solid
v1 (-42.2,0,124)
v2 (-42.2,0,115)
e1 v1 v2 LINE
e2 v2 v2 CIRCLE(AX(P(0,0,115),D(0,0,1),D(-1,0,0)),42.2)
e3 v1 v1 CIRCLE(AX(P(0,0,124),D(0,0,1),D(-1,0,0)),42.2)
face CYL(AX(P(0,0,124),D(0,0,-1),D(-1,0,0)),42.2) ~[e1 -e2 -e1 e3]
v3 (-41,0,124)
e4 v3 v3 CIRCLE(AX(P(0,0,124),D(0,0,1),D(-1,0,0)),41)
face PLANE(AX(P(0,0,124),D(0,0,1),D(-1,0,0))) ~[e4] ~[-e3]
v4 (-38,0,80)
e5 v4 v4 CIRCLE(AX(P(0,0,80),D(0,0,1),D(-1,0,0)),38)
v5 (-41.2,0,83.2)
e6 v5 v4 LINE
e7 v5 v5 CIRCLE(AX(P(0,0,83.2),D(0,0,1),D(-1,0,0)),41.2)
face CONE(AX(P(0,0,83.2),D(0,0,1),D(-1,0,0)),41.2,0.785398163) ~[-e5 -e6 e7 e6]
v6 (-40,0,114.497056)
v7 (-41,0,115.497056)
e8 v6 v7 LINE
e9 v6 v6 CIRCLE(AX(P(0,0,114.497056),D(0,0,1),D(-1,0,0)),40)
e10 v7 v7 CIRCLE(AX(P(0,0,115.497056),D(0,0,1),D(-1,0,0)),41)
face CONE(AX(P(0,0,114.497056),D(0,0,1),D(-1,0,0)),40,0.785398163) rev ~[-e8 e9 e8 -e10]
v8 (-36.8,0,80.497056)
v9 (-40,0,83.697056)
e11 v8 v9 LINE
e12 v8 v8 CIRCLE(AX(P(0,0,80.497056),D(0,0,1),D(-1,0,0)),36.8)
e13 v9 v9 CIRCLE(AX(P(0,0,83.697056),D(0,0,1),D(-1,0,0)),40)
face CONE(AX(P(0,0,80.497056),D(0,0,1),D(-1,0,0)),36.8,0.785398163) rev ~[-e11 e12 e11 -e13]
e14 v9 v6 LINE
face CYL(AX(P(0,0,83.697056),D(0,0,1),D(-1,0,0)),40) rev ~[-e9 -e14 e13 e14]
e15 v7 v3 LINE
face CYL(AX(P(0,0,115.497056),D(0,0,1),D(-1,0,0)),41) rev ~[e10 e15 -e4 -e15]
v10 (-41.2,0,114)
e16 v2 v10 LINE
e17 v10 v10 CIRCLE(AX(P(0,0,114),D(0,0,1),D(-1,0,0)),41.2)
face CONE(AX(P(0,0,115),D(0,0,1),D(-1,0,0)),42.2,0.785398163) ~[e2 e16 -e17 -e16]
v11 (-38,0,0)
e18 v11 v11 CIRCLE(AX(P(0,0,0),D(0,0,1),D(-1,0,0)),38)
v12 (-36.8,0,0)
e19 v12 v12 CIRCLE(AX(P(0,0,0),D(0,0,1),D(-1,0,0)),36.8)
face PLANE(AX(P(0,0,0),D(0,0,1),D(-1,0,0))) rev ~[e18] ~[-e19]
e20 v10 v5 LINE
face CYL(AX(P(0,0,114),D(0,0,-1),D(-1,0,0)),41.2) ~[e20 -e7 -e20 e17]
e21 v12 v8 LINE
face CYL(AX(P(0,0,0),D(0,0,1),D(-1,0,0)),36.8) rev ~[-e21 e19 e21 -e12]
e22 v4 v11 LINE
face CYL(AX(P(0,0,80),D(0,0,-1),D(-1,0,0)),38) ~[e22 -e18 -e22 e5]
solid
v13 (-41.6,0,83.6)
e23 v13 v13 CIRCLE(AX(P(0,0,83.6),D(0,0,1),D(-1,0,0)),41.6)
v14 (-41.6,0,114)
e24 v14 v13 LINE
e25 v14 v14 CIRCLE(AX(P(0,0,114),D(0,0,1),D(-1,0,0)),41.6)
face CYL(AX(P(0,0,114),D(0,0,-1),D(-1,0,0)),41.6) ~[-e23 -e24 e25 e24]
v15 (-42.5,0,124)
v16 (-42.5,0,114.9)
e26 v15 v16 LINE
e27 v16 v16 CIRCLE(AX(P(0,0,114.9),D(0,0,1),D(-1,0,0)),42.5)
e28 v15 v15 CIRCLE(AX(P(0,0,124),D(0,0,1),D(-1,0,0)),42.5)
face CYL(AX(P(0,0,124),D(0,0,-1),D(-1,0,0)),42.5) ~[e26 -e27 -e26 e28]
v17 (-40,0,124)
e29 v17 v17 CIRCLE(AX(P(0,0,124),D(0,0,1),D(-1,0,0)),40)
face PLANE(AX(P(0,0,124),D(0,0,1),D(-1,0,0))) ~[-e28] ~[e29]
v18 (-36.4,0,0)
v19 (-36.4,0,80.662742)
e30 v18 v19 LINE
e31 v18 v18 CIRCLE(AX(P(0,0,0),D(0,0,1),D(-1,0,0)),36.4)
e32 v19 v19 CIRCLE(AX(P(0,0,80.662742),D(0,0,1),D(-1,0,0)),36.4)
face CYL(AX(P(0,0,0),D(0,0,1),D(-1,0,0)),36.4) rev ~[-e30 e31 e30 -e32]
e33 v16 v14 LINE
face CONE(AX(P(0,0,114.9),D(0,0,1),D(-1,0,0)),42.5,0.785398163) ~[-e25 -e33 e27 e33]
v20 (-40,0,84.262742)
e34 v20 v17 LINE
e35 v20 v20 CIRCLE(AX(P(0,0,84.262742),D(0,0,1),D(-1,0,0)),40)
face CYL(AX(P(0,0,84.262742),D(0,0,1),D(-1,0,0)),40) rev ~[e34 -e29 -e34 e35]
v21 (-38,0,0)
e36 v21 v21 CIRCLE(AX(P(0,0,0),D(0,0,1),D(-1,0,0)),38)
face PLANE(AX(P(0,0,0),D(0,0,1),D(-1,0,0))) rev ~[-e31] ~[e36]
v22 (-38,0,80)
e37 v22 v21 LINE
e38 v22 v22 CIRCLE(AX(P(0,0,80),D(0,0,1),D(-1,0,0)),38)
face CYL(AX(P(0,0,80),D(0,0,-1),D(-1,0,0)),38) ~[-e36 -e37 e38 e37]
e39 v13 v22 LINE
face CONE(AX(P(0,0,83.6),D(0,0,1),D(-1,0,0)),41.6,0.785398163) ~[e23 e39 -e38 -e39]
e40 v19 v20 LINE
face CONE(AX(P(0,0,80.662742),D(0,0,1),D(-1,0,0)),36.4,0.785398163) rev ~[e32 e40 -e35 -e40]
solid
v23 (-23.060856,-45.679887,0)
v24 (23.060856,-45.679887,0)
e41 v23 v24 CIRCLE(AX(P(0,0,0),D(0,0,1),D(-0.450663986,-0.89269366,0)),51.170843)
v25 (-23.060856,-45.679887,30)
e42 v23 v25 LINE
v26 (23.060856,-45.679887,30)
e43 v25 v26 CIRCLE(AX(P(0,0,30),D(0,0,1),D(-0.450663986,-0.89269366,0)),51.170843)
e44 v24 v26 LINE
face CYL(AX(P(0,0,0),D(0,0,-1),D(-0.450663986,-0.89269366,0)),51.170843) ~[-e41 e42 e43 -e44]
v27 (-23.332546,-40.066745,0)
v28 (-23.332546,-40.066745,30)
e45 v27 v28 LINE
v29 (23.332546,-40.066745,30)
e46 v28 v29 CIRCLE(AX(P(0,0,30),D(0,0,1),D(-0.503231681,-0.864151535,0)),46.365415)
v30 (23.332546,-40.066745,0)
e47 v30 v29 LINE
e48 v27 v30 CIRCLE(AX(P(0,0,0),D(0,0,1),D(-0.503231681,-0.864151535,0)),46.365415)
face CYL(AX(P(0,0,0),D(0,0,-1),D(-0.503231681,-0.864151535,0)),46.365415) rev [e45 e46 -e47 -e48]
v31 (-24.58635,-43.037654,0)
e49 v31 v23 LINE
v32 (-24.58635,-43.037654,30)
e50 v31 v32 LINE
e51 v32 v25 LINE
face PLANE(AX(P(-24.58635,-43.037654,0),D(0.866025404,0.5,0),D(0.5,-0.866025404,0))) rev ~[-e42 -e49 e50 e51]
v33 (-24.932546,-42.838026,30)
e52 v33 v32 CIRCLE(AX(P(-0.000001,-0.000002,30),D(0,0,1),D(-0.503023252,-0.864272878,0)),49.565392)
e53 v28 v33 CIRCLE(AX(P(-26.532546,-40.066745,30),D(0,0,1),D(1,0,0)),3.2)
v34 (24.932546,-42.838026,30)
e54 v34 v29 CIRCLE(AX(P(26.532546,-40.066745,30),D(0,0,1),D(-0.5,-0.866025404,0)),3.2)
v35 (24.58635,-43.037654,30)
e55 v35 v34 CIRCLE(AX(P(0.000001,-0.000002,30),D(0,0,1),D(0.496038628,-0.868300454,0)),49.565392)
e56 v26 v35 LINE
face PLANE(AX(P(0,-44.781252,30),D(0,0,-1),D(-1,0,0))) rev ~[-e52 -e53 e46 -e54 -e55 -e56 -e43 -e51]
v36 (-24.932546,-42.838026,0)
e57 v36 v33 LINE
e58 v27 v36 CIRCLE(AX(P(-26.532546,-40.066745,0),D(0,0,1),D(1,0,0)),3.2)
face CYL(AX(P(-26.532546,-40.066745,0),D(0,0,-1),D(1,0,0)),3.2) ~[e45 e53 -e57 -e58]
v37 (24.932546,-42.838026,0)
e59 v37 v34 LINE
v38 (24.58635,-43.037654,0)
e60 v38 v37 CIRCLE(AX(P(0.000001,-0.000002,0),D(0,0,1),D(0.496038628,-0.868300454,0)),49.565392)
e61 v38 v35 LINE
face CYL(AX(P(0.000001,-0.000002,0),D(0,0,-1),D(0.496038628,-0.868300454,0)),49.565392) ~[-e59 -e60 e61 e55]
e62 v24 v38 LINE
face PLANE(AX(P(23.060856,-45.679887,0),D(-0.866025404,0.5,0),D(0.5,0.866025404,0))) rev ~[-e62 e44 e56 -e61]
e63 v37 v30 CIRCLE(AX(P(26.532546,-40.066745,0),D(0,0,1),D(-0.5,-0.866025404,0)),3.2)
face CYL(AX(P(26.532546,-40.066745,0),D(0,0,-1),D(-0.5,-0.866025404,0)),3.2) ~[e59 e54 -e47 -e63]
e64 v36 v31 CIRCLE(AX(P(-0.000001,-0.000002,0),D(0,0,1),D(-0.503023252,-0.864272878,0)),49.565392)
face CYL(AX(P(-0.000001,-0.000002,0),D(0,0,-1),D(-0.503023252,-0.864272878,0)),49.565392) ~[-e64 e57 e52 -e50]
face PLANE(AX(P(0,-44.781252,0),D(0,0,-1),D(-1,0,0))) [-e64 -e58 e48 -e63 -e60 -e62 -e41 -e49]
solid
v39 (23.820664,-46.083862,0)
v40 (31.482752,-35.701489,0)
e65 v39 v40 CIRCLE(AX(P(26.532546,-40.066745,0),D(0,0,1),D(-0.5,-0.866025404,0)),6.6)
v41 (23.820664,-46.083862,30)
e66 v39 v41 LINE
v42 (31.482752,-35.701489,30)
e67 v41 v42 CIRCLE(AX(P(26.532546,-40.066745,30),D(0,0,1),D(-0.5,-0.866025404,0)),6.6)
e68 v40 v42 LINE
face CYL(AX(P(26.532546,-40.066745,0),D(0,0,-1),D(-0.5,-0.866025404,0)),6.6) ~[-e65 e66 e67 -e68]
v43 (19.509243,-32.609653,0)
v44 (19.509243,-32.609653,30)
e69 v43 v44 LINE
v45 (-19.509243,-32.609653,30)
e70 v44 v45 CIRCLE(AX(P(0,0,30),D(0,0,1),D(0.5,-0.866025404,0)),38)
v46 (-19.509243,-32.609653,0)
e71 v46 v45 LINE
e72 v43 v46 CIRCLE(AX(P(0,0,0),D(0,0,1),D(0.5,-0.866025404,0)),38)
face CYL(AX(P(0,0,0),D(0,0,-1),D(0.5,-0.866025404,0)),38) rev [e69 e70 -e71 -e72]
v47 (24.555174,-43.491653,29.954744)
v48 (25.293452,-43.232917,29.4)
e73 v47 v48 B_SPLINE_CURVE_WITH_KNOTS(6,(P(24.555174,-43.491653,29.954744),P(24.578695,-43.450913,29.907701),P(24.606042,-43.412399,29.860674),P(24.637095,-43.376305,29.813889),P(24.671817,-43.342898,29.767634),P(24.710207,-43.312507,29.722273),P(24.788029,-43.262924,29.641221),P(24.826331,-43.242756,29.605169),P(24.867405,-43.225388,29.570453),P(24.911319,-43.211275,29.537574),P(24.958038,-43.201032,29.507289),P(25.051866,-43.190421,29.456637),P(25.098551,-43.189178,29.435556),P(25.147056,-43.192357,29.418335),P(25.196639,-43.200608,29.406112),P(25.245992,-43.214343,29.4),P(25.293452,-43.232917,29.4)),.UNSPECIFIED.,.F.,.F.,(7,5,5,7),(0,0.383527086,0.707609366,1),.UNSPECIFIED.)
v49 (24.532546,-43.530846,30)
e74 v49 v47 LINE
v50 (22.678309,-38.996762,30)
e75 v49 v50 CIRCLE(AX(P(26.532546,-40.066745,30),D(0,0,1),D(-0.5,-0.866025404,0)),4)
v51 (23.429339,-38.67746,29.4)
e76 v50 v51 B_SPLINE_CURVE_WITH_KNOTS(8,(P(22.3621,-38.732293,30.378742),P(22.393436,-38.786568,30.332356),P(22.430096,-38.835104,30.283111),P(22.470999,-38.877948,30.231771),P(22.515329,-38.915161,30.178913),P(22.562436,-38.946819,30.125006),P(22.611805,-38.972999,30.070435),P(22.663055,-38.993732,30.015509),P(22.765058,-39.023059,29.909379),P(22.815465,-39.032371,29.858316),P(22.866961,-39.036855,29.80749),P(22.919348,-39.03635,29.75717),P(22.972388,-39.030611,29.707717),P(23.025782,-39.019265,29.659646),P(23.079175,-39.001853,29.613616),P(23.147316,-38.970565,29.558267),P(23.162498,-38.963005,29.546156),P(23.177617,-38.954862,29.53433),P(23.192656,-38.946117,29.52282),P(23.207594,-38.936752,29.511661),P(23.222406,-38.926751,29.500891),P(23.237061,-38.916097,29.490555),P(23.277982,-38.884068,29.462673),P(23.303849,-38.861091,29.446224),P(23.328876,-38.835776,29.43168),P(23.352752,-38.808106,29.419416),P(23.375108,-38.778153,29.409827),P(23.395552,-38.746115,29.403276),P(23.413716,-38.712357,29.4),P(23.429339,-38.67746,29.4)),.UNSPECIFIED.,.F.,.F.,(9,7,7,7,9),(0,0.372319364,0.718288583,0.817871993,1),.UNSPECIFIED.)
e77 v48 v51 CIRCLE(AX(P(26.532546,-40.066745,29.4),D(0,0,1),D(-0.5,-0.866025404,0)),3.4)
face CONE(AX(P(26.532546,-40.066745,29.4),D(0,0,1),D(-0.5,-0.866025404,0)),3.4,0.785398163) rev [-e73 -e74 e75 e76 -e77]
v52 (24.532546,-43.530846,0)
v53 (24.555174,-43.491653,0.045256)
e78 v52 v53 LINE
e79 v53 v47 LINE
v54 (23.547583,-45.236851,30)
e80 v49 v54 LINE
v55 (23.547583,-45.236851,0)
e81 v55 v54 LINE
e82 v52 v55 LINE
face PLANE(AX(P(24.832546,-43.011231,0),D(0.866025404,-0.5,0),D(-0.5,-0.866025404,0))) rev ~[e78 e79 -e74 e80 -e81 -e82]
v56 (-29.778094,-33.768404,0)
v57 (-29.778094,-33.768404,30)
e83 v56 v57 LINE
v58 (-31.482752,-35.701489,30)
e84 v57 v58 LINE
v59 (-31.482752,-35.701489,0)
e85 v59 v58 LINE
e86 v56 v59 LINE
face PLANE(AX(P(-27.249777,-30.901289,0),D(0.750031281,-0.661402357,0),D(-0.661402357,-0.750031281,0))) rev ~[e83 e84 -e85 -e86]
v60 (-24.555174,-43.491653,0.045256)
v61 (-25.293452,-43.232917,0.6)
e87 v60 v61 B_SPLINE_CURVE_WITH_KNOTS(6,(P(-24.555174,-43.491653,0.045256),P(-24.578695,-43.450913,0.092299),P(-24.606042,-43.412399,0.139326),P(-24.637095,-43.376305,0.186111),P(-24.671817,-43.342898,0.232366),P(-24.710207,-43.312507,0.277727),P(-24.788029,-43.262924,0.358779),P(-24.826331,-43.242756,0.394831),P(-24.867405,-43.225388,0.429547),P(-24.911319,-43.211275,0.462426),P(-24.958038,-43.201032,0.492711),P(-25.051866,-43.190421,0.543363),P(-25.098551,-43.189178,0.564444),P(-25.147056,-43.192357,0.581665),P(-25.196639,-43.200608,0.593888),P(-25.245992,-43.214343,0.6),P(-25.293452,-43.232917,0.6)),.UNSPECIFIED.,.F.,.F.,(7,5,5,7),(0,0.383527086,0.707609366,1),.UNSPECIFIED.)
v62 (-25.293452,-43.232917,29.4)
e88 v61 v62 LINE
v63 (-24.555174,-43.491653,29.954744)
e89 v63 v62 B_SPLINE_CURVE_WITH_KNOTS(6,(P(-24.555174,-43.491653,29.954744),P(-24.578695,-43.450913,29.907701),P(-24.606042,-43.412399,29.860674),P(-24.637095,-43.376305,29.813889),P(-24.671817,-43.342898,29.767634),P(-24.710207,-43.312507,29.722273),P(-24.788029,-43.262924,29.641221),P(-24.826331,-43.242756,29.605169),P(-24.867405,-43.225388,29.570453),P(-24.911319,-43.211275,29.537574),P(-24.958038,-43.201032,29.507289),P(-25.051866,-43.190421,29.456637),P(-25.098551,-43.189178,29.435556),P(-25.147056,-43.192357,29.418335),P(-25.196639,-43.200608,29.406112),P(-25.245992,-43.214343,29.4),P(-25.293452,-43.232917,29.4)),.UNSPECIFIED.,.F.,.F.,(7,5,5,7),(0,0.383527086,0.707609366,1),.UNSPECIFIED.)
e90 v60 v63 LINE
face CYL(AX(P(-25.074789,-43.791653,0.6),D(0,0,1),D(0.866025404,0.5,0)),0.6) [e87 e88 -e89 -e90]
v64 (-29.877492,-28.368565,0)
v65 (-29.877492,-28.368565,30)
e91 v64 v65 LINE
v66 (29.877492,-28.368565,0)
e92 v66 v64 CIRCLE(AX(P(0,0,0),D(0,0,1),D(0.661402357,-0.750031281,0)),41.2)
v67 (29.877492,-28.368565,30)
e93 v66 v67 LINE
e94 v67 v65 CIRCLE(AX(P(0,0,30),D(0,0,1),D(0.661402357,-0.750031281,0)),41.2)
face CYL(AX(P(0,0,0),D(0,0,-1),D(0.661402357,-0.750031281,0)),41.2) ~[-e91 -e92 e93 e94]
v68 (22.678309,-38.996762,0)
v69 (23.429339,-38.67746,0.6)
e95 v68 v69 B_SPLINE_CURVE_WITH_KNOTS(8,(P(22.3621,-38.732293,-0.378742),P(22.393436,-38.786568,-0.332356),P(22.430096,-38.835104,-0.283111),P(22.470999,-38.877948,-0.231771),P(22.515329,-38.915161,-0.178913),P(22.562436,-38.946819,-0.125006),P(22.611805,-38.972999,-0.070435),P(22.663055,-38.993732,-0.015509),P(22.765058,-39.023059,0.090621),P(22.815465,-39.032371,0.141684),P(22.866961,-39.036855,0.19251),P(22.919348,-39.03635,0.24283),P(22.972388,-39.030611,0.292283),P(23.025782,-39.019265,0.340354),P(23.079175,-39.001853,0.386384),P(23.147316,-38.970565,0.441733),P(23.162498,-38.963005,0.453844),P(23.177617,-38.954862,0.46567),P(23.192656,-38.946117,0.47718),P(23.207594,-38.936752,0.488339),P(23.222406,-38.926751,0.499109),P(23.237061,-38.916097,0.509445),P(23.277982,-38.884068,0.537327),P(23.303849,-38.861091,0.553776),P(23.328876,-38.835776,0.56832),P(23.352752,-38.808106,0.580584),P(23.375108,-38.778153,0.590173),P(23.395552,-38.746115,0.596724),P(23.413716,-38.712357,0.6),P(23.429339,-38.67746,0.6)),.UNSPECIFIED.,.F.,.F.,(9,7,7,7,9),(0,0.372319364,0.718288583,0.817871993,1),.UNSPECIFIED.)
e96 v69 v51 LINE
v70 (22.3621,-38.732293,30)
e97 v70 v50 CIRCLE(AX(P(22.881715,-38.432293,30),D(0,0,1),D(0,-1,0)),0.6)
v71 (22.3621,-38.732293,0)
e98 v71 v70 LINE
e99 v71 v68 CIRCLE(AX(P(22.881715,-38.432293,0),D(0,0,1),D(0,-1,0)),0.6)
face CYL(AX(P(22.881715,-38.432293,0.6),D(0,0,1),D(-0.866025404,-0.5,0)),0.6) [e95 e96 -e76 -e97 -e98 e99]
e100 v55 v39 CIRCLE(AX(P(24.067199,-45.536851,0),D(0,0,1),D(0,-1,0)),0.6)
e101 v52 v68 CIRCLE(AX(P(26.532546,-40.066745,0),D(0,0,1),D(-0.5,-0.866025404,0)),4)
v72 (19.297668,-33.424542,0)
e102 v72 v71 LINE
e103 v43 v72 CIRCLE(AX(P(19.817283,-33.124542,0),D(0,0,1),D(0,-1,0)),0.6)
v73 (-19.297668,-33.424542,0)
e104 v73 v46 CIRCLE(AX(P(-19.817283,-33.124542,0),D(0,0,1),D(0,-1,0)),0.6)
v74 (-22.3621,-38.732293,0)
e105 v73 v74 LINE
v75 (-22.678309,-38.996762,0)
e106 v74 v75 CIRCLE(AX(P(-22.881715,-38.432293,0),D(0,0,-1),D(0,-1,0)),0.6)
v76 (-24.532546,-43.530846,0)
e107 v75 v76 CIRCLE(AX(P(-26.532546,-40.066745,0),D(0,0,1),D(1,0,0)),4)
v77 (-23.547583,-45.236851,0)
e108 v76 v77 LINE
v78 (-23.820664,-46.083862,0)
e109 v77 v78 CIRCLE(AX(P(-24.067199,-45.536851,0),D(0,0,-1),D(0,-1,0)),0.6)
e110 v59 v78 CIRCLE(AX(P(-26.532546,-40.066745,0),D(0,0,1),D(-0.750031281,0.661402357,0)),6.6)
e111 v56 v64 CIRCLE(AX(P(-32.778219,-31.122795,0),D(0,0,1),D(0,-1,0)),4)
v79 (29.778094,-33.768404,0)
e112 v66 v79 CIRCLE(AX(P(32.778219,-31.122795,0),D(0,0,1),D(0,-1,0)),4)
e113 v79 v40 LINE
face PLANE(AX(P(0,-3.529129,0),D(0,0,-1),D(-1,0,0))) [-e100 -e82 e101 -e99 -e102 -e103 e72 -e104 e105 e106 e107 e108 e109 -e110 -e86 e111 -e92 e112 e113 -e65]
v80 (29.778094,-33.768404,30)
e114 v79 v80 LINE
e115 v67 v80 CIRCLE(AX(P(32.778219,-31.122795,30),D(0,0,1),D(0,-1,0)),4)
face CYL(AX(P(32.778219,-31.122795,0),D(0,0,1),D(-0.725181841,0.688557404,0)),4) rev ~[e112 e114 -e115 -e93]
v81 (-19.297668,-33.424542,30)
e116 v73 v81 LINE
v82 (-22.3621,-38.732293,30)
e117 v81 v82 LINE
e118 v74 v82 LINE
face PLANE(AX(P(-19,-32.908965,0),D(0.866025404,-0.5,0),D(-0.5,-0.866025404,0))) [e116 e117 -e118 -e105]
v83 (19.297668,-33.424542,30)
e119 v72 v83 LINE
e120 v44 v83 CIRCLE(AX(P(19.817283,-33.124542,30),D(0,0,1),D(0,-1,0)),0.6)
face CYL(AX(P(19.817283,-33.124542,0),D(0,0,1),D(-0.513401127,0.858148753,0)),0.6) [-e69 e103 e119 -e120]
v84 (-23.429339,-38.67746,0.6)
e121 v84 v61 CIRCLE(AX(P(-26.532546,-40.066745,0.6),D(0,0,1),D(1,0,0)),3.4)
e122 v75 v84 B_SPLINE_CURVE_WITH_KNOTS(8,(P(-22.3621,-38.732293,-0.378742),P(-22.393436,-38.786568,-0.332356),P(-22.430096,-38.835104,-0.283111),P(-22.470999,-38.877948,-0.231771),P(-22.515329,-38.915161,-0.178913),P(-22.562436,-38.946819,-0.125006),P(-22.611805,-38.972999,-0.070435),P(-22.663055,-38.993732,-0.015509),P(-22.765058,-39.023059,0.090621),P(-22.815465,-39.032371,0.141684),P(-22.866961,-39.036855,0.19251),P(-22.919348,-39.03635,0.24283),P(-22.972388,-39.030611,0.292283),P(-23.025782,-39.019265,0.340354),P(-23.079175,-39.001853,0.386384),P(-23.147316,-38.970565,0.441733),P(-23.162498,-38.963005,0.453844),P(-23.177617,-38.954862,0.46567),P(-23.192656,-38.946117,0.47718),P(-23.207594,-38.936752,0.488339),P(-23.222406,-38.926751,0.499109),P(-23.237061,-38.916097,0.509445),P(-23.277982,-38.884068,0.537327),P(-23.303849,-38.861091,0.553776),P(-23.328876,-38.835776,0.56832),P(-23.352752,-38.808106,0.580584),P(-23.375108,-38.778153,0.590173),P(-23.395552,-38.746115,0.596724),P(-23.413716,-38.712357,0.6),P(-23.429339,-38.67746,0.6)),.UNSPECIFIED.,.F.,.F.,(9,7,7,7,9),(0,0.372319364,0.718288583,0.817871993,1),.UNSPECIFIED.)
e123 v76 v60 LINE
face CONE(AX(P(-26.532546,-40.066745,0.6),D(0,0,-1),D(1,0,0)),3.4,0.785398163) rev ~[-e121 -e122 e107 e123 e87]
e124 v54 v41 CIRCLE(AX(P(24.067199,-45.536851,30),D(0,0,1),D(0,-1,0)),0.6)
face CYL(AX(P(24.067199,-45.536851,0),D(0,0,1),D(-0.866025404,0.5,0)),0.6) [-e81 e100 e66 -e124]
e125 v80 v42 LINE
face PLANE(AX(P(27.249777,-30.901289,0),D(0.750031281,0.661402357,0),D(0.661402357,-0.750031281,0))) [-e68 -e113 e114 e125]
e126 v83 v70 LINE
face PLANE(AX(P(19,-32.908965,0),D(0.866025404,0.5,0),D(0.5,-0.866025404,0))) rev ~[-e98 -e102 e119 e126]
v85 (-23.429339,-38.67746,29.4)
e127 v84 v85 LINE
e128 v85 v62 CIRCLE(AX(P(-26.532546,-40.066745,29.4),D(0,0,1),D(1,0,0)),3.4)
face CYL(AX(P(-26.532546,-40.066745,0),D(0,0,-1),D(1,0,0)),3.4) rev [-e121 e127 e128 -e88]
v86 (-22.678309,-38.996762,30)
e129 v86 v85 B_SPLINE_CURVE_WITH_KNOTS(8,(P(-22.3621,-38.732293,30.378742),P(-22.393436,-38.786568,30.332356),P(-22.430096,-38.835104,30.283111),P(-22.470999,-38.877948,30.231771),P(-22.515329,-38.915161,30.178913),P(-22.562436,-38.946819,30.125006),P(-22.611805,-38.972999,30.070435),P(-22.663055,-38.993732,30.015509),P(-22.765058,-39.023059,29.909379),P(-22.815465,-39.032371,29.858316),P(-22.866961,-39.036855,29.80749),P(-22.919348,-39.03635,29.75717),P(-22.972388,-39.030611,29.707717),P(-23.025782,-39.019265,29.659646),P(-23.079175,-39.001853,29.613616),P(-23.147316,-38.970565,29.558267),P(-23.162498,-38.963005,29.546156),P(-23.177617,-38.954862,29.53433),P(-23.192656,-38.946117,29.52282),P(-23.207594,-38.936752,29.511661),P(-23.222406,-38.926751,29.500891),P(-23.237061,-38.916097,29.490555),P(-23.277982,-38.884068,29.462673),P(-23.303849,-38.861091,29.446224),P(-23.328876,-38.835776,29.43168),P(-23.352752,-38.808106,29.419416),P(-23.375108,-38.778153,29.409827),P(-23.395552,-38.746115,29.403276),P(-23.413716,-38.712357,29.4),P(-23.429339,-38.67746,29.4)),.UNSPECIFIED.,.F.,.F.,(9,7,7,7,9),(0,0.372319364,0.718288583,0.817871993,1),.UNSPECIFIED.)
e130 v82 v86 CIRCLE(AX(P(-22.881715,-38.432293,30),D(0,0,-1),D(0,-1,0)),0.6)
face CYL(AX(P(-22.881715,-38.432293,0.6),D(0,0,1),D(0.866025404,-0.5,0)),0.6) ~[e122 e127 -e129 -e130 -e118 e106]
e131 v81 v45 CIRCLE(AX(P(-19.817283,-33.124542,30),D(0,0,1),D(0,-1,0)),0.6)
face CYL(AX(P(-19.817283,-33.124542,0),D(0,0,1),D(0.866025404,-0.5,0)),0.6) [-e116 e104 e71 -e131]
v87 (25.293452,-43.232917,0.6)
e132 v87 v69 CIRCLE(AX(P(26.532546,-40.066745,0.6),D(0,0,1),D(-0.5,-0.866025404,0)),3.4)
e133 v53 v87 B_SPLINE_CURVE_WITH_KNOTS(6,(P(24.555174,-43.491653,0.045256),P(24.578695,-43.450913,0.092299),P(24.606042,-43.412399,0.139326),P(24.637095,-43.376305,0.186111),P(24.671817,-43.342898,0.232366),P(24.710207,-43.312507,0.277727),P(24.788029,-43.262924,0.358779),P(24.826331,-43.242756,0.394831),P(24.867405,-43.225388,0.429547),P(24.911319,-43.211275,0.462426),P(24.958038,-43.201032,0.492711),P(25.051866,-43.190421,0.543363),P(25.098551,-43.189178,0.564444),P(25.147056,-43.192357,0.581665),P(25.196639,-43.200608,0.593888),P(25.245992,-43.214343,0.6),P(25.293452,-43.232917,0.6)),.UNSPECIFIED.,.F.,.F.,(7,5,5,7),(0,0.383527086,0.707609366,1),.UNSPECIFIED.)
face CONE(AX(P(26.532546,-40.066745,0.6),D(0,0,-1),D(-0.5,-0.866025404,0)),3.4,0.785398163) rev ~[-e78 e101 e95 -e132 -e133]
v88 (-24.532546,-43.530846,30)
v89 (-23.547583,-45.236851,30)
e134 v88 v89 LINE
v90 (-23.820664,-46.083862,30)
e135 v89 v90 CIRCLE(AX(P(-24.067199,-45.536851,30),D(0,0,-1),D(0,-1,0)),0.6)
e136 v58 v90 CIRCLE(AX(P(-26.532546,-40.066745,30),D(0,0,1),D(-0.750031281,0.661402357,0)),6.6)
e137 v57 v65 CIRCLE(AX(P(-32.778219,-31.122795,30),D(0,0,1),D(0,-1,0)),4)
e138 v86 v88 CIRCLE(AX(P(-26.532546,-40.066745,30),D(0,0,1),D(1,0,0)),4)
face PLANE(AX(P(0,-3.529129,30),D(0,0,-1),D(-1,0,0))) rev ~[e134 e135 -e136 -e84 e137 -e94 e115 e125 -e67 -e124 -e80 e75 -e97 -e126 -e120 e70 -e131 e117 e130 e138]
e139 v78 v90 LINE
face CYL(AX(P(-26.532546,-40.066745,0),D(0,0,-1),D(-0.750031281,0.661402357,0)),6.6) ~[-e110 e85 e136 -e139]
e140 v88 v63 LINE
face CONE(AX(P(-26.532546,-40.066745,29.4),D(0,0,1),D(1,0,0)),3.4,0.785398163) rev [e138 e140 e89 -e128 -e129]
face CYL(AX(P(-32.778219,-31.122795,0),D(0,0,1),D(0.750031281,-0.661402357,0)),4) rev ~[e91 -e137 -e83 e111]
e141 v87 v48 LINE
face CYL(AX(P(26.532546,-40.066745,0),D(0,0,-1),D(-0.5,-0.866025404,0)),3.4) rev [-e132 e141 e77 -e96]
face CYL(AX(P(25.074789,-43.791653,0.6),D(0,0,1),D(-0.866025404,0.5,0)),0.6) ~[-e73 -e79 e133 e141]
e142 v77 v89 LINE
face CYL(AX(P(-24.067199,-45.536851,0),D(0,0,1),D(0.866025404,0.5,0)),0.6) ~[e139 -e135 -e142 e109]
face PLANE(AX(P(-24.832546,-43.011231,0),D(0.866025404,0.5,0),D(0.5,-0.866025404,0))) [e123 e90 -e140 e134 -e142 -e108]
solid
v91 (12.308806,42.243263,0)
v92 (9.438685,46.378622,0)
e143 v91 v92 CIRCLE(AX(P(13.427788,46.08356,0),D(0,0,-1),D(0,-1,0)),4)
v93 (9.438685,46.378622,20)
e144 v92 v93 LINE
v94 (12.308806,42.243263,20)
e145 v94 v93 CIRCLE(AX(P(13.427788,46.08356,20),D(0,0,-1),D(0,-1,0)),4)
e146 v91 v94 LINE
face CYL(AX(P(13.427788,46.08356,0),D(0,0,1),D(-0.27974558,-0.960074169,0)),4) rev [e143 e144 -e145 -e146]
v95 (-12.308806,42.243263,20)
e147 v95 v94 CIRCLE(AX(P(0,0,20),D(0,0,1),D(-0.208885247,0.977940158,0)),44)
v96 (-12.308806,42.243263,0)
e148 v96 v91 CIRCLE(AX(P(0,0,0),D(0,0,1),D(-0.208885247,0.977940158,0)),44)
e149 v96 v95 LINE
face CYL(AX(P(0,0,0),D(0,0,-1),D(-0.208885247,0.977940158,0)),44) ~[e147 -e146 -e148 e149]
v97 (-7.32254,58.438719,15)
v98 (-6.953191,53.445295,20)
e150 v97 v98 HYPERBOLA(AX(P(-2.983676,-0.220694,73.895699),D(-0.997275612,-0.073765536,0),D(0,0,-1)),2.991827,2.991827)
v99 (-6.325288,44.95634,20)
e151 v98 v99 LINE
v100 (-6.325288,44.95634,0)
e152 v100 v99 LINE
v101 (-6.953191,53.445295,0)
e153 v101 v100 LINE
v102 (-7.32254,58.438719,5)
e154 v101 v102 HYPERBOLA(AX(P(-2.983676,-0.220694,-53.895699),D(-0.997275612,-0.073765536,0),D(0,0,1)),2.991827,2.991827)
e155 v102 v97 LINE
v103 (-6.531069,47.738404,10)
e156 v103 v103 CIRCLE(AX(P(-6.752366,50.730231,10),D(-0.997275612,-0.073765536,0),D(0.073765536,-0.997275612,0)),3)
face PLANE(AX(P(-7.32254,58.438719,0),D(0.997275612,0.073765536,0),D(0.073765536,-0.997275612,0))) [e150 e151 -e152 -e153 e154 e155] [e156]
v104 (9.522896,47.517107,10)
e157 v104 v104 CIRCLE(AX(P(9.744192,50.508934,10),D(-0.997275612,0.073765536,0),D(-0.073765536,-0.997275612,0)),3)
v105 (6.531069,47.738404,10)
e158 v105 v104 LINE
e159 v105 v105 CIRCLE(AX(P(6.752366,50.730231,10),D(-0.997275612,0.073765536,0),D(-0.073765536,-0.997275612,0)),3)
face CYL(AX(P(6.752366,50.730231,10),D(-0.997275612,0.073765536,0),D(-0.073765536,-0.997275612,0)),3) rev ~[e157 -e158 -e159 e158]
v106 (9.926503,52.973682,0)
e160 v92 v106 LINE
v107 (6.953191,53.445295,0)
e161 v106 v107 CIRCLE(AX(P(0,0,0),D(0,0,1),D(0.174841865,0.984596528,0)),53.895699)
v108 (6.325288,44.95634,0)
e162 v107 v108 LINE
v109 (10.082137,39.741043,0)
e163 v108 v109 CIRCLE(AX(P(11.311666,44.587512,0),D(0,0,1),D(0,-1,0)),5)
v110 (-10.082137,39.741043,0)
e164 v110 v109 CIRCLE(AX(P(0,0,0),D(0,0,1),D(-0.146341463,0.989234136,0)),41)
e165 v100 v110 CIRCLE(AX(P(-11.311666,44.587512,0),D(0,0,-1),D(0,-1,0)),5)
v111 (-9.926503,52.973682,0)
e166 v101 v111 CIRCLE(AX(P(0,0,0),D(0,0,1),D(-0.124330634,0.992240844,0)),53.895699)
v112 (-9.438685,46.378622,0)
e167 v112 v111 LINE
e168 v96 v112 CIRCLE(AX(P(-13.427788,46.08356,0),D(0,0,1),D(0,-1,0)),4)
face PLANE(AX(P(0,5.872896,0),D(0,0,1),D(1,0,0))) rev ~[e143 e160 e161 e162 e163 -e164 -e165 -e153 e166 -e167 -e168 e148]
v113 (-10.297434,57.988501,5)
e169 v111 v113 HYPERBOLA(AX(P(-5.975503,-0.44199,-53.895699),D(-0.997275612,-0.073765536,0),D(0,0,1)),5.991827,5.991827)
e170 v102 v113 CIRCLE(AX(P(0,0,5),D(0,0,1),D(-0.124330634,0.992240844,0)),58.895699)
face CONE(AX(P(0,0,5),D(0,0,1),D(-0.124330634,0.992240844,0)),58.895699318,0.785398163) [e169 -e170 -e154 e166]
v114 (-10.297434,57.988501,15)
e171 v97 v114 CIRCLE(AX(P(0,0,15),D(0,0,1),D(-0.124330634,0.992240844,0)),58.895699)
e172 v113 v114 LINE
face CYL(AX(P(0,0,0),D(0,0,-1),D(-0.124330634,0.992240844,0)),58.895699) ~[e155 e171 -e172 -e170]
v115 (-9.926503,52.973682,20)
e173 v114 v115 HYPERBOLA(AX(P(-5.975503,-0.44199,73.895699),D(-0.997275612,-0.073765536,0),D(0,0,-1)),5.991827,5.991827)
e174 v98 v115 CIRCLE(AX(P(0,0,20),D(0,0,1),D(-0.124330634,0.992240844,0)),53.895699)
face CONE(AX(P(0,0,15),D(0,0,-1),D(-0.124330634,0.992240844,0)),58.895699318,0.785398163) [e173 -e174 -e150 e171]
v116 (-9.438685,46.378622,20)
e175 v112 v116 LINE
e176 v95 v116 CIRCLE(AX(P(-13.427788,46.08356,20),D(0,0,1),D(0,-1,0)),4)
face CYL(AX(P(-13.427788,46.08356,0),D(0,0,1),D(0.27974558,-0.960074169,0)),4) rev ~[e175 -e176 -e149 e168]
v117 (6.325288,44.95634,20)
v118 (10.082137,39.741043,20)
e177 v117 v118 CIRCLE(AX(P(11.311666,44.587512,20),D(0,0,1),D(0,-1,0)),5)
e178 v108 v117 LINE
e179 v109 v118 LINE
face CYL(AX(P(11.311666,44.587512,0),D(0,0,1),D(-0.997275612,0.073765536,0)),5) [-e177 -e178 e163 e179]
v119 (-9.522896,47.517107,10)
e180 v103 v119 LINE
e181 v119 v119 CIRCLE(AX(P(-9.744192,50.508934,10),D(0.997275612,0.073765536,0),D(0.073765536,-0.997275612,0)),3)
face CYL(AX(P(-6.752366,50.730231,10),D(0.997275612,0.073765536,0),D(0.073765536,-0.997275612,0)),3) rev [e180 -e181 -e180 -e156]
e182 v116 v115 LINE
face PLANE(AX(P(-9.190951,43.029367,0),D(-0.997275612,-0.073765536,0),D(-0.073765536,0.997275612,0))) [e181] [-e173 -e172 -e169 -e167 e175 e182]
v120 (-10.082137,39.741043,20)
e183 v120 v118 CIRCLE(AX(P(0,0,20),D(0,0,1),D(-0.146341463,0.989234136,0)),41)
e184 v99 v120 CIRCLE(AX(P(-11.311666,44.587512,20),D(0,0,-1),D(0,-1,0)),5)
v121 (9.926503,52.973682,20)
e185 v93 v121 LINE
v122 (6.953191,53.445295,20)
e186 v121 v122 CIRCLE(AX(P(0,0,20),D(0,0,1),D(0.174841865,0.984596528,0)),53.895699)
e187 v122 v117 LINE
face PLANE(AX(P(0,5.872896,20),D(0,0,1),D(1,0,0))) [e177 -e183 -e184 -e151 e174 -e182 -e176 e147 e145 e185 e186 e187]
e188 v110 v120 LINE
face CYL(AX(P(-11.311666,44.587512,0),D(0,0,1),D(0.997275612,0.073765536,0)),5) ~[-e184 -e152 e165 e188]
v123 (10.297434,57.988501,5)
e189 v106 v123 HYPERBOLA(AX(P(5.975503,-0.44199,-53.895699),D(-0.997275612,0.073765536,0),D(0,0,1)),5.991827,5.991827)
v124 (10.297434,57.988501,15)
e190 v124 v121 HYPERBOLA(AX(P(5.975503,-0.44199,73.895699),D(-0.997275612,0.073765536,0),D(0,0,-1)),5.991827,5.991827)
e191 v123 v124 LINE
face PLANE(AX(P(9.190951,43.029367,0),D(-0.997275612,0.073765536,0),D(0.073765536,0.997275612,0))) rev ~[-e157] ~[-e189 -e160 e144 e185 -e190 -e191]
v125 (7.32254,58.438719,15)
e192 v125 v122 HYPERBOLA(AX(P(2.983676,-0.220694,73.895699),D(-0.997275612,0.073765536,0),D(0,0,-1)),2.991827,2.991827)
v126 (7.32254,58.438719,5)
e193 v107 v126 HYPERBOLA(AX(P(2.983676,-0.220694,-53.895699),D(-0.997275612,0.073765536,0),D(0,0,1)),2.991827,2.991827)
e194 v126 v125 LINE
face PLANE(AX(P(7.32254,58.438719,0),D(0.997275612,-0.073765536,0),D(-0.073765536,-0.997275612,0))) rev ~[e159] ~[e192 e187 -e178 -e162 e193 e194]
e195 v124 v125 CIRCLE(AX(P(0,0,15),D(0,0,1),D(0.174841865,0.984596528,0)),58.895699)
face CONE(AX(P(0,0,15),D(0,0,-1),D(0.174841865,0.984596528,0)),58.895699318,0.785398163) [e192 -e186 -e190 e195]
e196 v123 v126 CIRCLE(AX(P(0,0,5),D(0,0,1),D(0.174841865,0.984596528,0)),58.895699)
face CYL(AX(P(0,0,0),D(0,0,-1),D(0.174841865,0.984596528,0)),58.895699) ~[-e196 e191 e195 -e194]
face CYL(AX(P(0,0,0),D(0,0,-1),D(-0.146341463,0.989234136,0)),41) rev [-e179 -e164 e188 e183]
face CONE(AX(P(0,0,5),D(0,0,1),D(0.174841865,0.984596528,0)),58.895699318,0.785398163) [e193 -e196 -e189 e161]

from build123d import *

# Parameters (mm, degrees)
PAD_DEPTH       = 20
FILLET_R        = 4
FILLET001_R     = 5
SKETCH001_R     = 3
POCKET_DEPTH    = 44.1349836614
SKETCH002_R     = 3
POCKET001_DEPTH = 44.1349836614
CHAMFER_SIZE    = 5
PAD001_DEPTH    = 30
FILLET003_R     = 4
CHAMFER001_SIZE = 0.6
FILLET004_R     = 0.6
PAD002_DEPTH    = 30


with BuildPart() as clamp:
    # Sketch → Pad (new body)
    with BuildSketch(Plane.XY):
        with BuildLine():
            ThreePointArc((-9.19095087, 43.0293669731), (0, -44), (9.19095087, 43.0293669731))
            Line((9.19095087, 43.0293669731), (10.2974339091, 57.9885011487))
            ThreePointArc((10.2974339091, 57.9885011487), (8.8128622559, 58.2326100175), (7.3225396685, 58.4387185297))
            Line((7.3225396685, 58.4387185297), (6, 40.5585995813))
            ThreePointArc((-6, 40.5585995813), (0, -41), (6, 40.5585995813))
            Line((-7.3225396685, 58.4387185297), (-6, 40.5585995813))
            ThreePointArc((-7.3225396685, 58.4387185297), (-8.8128622559, 58.2326100175), (-10.2974339091, 57.9885011487))
            Line((-9.19095087, 43.0293669731), (-10.2974339091, 57.9885011487))
        make_face()
    extrude(amount=PAD_DEPTH)

    # Fillet
    fillet_edges = [clamp.edges().sort_by_distance(p)[0] for p in [
        (9.190951, 43.029367, 10),
        (-9.190951, 43.029367, 10),
    ]]
    fillet(fillet_edges, radius=FILLET_R)

    # Fillet001
    fillet001_edges = [clamp.edges().sort_by_distance(p)[0] for p in [
        (-6, 40.5586, 10),
        (6, 40.5586, 10),
    ]]
    fillet(fillet001_edges, radius=FILLET001_R)

    # Sketch001 (on DatumPlane) → Pocket (cut, through all)
    with BuildSketch(Plane(origin=(6.7523655545, 50.7302306687, 0), x_dir=(-0.0737655359, -0.9972756117, 0), z_dir=(-0.9972756117, 0.0737655359, 0))):
        with Locations((0, 10)):
            Circle(SKETCH001_R)
    extrude(amount=-POCKET_DEPTH, mode=Mode.SUBTRACT)

    # Sketch002 (on DatumPlane) → Pocket001 (cut, through all)
    with BuildSketch(Plane(origin=(-6.7523655545, 50.7302306687, 0), x_dir=(0.0737655359, -0.9972756117, 0), z_dir=(-0.9972756117, -0.0737655359, 0))):
        with Locations((0, 10)):
            Circle(SKETCH002_R)
    extrude(amount=POCKET001_DEPTH, mode=Mode.SUBTRACT)

    # Chamfer
    chamfer_edges = [clamp.edges().sort_by_distance(p)[0] for p in [
        (-8.812862, 58.23261, 0),
        (8.812862, 58.23261, 0),
        (-8.812862, 58.23261, 20),
        (8.812862, 58.23261, 20),
    ]]
    chamfer(chamfer_edges, length=CHAMFER_SIZE)


with BuildPart() as joiner:
    # Sketch004 → Revolution (revolve)
    with BuildSketch(Plane.XZ):
        Polygon((-41.6, 83.6), (-38, 80), (-38, 0), (-36.4, 0), (-36.4, 80.6627416998), (-40, 84.2627416998), (-40, 124), (-42.5, 124), (-42.5, 114.9), (-41.6, 114), align=None)
    revolve(axis=Axis((0, 0, 0), (0, 0, 1)))


with BuildPart() as joiner_vase:
    # Sketch005 → Revolution001 (revolve)
    with BuildSketch(Plane.XZ):
        Polygon((-38, 0), (-36.8, 0), (-36.8, 80.4970562748), (-40, 83.6970562748), (-40, 114.4970562748), (-41, 115.4970562748), (-41, 124), (-42.2, 124), (-42.2, 115), (-41.2, 114), (-41.2, 83.2), (-38, 80), align=None)
    revolve(axis=Axis((0, 0, 0), (0, 0, 1)))


with BuildPart() as joinerfix:
    # Sketch006 → Pad001 (new body)
    with BuildSketch(Plane.XY):
        with BuildLine():
            ThreePointArc((19, -32.9089653438), (0, 38), (-19, -32.9089653438))
            Line((-19, -32.9089653438), (-23.1325457364, -40.0667445239))
            ThreePointArc((-23.1325457364, -40.0667445239), (-29.4770321093, -38.3667445239), (-24.8325457364, -43.0112308967))
            Line((-24.8325457364, -43.0112308967), (-23.2325457364, -45.7825121889))
            ThreePointArc((-31.48275219, -35.7014889681), (-31.6401432763, -44.2467501903), (-23.2325457364, -45.7825121889))
            Line((-27.2497771056, -30.9012887708), (-31.48275219, -35.7014889681))
            ThreePointArc((27.2497771056, -30.9012887707), (0, 41.2), (-27.2497771056, -30.9012887707))
            Line((27.2497771056, -30.9012887707), (31.48275219, -35.7014889681))
            ThreePointArc((23.2325457364, -45.7825121889), (31.6401432763, -44.2467501903), (31.48275219, -35.7014889681))
            Line((24.8325457364, -43.0112308967), (23.2325457364, -45.7825121889))
            ThreePointArc((24.8325457364, -43.0112308968), (29.4770321093, -38.3667445239), (23.1325457364, -40.0667445239))
            Line((19, -32.9089653438), (23.1325457364, -40.0667445239))
        make_face()
    extrude(amount=PAD001_DEPTH)

    # Fillet003
    fillet003_edges = [joinerfix.edges().sort_by_distance(p)[0] for p in [
        (27.249777, -30.901289, 15),
        (-27.249777, -30.901289, 15),
    ]]
    fillet(fillet003_edges, radius=FILLET003_R)

    # Chamfer001
    chamfer001_edges = [joinerfix.edges().sort_by_distance(p)[0] for p in [
        (-29.477032, -38.366745, 30),
        (29.477032, -38.366745, 30),
        (29.477032, -38.366745, 0),
        (-29.477032, -38.366745, 0),
    ]]
    chamfer(chamfer001_edges, length=CHAMFER001_SIZE)

    # Fillet004
    fillet004_edges = [joinerfix.edges().sort_by_distance(p)[0] for p in [
        (-23.232546, -45.782512, 15),
        (-24.832546, -43.011231, 15),
        (-23.132546, -40.066745, 15),
        (23.132546, -40.066745, 15),
        (24.832546, -43.011231, 15),
        (23.232546, -45.782512, 15),
        (19, -32.908965, 15),
        (-19, -32.908965, 15),
    ]]
    fillet(fillet004_edges, radius=FILLET004_R)


with BuildPart() as joinerfixlock:
    # Sketch007 → Pad002 (new body)
    with BuildSketch(Plane.XY):
        with BuildLine():
            ThreePointArc((-23.3325457364, -40.0667445239), (0, -46.365414991), (23.3325457364, -40.0667445239))
            ThreePointArc((24.9325457364, -42.838025816), (29.3038270286, -38.4667445239), (23.3325457364, -40.0667445239))
            ThreePointArc((24.5863501167, -43.0376542187), (24.7596491191, -42.9381889256), (24.9325457364, -42.838025816))
            Line((23.0608561552, -45.6798872667), (24.5863501167, -43.0376542187))
            ThreePointArc((-23.0608561552, -45.6798872667), (0, -51.1708431366), (23.0608561552, -45.6798872667))
            Line((-24.5863501167, -43.0376542187), (-23.0608561552, -45.6798872667))
            ThreePointArc((-24.9325457364, -42.838025816), (-24.7596491191, -42.9381889256), (-24.5863501167, -43.0376542187))
            ThreePointArc((-23.3325457364, -40.0667445239), (-29.3038270285, -38.4667445239), (-24.9325457364, -42.838025816))
        make_face()
    extrude(amount=PAD002_DEPTH)


solid = Compound([clamp.part, joiner.part, joiner_vase.part, joinerfix.part, joinerfixlock.part])
